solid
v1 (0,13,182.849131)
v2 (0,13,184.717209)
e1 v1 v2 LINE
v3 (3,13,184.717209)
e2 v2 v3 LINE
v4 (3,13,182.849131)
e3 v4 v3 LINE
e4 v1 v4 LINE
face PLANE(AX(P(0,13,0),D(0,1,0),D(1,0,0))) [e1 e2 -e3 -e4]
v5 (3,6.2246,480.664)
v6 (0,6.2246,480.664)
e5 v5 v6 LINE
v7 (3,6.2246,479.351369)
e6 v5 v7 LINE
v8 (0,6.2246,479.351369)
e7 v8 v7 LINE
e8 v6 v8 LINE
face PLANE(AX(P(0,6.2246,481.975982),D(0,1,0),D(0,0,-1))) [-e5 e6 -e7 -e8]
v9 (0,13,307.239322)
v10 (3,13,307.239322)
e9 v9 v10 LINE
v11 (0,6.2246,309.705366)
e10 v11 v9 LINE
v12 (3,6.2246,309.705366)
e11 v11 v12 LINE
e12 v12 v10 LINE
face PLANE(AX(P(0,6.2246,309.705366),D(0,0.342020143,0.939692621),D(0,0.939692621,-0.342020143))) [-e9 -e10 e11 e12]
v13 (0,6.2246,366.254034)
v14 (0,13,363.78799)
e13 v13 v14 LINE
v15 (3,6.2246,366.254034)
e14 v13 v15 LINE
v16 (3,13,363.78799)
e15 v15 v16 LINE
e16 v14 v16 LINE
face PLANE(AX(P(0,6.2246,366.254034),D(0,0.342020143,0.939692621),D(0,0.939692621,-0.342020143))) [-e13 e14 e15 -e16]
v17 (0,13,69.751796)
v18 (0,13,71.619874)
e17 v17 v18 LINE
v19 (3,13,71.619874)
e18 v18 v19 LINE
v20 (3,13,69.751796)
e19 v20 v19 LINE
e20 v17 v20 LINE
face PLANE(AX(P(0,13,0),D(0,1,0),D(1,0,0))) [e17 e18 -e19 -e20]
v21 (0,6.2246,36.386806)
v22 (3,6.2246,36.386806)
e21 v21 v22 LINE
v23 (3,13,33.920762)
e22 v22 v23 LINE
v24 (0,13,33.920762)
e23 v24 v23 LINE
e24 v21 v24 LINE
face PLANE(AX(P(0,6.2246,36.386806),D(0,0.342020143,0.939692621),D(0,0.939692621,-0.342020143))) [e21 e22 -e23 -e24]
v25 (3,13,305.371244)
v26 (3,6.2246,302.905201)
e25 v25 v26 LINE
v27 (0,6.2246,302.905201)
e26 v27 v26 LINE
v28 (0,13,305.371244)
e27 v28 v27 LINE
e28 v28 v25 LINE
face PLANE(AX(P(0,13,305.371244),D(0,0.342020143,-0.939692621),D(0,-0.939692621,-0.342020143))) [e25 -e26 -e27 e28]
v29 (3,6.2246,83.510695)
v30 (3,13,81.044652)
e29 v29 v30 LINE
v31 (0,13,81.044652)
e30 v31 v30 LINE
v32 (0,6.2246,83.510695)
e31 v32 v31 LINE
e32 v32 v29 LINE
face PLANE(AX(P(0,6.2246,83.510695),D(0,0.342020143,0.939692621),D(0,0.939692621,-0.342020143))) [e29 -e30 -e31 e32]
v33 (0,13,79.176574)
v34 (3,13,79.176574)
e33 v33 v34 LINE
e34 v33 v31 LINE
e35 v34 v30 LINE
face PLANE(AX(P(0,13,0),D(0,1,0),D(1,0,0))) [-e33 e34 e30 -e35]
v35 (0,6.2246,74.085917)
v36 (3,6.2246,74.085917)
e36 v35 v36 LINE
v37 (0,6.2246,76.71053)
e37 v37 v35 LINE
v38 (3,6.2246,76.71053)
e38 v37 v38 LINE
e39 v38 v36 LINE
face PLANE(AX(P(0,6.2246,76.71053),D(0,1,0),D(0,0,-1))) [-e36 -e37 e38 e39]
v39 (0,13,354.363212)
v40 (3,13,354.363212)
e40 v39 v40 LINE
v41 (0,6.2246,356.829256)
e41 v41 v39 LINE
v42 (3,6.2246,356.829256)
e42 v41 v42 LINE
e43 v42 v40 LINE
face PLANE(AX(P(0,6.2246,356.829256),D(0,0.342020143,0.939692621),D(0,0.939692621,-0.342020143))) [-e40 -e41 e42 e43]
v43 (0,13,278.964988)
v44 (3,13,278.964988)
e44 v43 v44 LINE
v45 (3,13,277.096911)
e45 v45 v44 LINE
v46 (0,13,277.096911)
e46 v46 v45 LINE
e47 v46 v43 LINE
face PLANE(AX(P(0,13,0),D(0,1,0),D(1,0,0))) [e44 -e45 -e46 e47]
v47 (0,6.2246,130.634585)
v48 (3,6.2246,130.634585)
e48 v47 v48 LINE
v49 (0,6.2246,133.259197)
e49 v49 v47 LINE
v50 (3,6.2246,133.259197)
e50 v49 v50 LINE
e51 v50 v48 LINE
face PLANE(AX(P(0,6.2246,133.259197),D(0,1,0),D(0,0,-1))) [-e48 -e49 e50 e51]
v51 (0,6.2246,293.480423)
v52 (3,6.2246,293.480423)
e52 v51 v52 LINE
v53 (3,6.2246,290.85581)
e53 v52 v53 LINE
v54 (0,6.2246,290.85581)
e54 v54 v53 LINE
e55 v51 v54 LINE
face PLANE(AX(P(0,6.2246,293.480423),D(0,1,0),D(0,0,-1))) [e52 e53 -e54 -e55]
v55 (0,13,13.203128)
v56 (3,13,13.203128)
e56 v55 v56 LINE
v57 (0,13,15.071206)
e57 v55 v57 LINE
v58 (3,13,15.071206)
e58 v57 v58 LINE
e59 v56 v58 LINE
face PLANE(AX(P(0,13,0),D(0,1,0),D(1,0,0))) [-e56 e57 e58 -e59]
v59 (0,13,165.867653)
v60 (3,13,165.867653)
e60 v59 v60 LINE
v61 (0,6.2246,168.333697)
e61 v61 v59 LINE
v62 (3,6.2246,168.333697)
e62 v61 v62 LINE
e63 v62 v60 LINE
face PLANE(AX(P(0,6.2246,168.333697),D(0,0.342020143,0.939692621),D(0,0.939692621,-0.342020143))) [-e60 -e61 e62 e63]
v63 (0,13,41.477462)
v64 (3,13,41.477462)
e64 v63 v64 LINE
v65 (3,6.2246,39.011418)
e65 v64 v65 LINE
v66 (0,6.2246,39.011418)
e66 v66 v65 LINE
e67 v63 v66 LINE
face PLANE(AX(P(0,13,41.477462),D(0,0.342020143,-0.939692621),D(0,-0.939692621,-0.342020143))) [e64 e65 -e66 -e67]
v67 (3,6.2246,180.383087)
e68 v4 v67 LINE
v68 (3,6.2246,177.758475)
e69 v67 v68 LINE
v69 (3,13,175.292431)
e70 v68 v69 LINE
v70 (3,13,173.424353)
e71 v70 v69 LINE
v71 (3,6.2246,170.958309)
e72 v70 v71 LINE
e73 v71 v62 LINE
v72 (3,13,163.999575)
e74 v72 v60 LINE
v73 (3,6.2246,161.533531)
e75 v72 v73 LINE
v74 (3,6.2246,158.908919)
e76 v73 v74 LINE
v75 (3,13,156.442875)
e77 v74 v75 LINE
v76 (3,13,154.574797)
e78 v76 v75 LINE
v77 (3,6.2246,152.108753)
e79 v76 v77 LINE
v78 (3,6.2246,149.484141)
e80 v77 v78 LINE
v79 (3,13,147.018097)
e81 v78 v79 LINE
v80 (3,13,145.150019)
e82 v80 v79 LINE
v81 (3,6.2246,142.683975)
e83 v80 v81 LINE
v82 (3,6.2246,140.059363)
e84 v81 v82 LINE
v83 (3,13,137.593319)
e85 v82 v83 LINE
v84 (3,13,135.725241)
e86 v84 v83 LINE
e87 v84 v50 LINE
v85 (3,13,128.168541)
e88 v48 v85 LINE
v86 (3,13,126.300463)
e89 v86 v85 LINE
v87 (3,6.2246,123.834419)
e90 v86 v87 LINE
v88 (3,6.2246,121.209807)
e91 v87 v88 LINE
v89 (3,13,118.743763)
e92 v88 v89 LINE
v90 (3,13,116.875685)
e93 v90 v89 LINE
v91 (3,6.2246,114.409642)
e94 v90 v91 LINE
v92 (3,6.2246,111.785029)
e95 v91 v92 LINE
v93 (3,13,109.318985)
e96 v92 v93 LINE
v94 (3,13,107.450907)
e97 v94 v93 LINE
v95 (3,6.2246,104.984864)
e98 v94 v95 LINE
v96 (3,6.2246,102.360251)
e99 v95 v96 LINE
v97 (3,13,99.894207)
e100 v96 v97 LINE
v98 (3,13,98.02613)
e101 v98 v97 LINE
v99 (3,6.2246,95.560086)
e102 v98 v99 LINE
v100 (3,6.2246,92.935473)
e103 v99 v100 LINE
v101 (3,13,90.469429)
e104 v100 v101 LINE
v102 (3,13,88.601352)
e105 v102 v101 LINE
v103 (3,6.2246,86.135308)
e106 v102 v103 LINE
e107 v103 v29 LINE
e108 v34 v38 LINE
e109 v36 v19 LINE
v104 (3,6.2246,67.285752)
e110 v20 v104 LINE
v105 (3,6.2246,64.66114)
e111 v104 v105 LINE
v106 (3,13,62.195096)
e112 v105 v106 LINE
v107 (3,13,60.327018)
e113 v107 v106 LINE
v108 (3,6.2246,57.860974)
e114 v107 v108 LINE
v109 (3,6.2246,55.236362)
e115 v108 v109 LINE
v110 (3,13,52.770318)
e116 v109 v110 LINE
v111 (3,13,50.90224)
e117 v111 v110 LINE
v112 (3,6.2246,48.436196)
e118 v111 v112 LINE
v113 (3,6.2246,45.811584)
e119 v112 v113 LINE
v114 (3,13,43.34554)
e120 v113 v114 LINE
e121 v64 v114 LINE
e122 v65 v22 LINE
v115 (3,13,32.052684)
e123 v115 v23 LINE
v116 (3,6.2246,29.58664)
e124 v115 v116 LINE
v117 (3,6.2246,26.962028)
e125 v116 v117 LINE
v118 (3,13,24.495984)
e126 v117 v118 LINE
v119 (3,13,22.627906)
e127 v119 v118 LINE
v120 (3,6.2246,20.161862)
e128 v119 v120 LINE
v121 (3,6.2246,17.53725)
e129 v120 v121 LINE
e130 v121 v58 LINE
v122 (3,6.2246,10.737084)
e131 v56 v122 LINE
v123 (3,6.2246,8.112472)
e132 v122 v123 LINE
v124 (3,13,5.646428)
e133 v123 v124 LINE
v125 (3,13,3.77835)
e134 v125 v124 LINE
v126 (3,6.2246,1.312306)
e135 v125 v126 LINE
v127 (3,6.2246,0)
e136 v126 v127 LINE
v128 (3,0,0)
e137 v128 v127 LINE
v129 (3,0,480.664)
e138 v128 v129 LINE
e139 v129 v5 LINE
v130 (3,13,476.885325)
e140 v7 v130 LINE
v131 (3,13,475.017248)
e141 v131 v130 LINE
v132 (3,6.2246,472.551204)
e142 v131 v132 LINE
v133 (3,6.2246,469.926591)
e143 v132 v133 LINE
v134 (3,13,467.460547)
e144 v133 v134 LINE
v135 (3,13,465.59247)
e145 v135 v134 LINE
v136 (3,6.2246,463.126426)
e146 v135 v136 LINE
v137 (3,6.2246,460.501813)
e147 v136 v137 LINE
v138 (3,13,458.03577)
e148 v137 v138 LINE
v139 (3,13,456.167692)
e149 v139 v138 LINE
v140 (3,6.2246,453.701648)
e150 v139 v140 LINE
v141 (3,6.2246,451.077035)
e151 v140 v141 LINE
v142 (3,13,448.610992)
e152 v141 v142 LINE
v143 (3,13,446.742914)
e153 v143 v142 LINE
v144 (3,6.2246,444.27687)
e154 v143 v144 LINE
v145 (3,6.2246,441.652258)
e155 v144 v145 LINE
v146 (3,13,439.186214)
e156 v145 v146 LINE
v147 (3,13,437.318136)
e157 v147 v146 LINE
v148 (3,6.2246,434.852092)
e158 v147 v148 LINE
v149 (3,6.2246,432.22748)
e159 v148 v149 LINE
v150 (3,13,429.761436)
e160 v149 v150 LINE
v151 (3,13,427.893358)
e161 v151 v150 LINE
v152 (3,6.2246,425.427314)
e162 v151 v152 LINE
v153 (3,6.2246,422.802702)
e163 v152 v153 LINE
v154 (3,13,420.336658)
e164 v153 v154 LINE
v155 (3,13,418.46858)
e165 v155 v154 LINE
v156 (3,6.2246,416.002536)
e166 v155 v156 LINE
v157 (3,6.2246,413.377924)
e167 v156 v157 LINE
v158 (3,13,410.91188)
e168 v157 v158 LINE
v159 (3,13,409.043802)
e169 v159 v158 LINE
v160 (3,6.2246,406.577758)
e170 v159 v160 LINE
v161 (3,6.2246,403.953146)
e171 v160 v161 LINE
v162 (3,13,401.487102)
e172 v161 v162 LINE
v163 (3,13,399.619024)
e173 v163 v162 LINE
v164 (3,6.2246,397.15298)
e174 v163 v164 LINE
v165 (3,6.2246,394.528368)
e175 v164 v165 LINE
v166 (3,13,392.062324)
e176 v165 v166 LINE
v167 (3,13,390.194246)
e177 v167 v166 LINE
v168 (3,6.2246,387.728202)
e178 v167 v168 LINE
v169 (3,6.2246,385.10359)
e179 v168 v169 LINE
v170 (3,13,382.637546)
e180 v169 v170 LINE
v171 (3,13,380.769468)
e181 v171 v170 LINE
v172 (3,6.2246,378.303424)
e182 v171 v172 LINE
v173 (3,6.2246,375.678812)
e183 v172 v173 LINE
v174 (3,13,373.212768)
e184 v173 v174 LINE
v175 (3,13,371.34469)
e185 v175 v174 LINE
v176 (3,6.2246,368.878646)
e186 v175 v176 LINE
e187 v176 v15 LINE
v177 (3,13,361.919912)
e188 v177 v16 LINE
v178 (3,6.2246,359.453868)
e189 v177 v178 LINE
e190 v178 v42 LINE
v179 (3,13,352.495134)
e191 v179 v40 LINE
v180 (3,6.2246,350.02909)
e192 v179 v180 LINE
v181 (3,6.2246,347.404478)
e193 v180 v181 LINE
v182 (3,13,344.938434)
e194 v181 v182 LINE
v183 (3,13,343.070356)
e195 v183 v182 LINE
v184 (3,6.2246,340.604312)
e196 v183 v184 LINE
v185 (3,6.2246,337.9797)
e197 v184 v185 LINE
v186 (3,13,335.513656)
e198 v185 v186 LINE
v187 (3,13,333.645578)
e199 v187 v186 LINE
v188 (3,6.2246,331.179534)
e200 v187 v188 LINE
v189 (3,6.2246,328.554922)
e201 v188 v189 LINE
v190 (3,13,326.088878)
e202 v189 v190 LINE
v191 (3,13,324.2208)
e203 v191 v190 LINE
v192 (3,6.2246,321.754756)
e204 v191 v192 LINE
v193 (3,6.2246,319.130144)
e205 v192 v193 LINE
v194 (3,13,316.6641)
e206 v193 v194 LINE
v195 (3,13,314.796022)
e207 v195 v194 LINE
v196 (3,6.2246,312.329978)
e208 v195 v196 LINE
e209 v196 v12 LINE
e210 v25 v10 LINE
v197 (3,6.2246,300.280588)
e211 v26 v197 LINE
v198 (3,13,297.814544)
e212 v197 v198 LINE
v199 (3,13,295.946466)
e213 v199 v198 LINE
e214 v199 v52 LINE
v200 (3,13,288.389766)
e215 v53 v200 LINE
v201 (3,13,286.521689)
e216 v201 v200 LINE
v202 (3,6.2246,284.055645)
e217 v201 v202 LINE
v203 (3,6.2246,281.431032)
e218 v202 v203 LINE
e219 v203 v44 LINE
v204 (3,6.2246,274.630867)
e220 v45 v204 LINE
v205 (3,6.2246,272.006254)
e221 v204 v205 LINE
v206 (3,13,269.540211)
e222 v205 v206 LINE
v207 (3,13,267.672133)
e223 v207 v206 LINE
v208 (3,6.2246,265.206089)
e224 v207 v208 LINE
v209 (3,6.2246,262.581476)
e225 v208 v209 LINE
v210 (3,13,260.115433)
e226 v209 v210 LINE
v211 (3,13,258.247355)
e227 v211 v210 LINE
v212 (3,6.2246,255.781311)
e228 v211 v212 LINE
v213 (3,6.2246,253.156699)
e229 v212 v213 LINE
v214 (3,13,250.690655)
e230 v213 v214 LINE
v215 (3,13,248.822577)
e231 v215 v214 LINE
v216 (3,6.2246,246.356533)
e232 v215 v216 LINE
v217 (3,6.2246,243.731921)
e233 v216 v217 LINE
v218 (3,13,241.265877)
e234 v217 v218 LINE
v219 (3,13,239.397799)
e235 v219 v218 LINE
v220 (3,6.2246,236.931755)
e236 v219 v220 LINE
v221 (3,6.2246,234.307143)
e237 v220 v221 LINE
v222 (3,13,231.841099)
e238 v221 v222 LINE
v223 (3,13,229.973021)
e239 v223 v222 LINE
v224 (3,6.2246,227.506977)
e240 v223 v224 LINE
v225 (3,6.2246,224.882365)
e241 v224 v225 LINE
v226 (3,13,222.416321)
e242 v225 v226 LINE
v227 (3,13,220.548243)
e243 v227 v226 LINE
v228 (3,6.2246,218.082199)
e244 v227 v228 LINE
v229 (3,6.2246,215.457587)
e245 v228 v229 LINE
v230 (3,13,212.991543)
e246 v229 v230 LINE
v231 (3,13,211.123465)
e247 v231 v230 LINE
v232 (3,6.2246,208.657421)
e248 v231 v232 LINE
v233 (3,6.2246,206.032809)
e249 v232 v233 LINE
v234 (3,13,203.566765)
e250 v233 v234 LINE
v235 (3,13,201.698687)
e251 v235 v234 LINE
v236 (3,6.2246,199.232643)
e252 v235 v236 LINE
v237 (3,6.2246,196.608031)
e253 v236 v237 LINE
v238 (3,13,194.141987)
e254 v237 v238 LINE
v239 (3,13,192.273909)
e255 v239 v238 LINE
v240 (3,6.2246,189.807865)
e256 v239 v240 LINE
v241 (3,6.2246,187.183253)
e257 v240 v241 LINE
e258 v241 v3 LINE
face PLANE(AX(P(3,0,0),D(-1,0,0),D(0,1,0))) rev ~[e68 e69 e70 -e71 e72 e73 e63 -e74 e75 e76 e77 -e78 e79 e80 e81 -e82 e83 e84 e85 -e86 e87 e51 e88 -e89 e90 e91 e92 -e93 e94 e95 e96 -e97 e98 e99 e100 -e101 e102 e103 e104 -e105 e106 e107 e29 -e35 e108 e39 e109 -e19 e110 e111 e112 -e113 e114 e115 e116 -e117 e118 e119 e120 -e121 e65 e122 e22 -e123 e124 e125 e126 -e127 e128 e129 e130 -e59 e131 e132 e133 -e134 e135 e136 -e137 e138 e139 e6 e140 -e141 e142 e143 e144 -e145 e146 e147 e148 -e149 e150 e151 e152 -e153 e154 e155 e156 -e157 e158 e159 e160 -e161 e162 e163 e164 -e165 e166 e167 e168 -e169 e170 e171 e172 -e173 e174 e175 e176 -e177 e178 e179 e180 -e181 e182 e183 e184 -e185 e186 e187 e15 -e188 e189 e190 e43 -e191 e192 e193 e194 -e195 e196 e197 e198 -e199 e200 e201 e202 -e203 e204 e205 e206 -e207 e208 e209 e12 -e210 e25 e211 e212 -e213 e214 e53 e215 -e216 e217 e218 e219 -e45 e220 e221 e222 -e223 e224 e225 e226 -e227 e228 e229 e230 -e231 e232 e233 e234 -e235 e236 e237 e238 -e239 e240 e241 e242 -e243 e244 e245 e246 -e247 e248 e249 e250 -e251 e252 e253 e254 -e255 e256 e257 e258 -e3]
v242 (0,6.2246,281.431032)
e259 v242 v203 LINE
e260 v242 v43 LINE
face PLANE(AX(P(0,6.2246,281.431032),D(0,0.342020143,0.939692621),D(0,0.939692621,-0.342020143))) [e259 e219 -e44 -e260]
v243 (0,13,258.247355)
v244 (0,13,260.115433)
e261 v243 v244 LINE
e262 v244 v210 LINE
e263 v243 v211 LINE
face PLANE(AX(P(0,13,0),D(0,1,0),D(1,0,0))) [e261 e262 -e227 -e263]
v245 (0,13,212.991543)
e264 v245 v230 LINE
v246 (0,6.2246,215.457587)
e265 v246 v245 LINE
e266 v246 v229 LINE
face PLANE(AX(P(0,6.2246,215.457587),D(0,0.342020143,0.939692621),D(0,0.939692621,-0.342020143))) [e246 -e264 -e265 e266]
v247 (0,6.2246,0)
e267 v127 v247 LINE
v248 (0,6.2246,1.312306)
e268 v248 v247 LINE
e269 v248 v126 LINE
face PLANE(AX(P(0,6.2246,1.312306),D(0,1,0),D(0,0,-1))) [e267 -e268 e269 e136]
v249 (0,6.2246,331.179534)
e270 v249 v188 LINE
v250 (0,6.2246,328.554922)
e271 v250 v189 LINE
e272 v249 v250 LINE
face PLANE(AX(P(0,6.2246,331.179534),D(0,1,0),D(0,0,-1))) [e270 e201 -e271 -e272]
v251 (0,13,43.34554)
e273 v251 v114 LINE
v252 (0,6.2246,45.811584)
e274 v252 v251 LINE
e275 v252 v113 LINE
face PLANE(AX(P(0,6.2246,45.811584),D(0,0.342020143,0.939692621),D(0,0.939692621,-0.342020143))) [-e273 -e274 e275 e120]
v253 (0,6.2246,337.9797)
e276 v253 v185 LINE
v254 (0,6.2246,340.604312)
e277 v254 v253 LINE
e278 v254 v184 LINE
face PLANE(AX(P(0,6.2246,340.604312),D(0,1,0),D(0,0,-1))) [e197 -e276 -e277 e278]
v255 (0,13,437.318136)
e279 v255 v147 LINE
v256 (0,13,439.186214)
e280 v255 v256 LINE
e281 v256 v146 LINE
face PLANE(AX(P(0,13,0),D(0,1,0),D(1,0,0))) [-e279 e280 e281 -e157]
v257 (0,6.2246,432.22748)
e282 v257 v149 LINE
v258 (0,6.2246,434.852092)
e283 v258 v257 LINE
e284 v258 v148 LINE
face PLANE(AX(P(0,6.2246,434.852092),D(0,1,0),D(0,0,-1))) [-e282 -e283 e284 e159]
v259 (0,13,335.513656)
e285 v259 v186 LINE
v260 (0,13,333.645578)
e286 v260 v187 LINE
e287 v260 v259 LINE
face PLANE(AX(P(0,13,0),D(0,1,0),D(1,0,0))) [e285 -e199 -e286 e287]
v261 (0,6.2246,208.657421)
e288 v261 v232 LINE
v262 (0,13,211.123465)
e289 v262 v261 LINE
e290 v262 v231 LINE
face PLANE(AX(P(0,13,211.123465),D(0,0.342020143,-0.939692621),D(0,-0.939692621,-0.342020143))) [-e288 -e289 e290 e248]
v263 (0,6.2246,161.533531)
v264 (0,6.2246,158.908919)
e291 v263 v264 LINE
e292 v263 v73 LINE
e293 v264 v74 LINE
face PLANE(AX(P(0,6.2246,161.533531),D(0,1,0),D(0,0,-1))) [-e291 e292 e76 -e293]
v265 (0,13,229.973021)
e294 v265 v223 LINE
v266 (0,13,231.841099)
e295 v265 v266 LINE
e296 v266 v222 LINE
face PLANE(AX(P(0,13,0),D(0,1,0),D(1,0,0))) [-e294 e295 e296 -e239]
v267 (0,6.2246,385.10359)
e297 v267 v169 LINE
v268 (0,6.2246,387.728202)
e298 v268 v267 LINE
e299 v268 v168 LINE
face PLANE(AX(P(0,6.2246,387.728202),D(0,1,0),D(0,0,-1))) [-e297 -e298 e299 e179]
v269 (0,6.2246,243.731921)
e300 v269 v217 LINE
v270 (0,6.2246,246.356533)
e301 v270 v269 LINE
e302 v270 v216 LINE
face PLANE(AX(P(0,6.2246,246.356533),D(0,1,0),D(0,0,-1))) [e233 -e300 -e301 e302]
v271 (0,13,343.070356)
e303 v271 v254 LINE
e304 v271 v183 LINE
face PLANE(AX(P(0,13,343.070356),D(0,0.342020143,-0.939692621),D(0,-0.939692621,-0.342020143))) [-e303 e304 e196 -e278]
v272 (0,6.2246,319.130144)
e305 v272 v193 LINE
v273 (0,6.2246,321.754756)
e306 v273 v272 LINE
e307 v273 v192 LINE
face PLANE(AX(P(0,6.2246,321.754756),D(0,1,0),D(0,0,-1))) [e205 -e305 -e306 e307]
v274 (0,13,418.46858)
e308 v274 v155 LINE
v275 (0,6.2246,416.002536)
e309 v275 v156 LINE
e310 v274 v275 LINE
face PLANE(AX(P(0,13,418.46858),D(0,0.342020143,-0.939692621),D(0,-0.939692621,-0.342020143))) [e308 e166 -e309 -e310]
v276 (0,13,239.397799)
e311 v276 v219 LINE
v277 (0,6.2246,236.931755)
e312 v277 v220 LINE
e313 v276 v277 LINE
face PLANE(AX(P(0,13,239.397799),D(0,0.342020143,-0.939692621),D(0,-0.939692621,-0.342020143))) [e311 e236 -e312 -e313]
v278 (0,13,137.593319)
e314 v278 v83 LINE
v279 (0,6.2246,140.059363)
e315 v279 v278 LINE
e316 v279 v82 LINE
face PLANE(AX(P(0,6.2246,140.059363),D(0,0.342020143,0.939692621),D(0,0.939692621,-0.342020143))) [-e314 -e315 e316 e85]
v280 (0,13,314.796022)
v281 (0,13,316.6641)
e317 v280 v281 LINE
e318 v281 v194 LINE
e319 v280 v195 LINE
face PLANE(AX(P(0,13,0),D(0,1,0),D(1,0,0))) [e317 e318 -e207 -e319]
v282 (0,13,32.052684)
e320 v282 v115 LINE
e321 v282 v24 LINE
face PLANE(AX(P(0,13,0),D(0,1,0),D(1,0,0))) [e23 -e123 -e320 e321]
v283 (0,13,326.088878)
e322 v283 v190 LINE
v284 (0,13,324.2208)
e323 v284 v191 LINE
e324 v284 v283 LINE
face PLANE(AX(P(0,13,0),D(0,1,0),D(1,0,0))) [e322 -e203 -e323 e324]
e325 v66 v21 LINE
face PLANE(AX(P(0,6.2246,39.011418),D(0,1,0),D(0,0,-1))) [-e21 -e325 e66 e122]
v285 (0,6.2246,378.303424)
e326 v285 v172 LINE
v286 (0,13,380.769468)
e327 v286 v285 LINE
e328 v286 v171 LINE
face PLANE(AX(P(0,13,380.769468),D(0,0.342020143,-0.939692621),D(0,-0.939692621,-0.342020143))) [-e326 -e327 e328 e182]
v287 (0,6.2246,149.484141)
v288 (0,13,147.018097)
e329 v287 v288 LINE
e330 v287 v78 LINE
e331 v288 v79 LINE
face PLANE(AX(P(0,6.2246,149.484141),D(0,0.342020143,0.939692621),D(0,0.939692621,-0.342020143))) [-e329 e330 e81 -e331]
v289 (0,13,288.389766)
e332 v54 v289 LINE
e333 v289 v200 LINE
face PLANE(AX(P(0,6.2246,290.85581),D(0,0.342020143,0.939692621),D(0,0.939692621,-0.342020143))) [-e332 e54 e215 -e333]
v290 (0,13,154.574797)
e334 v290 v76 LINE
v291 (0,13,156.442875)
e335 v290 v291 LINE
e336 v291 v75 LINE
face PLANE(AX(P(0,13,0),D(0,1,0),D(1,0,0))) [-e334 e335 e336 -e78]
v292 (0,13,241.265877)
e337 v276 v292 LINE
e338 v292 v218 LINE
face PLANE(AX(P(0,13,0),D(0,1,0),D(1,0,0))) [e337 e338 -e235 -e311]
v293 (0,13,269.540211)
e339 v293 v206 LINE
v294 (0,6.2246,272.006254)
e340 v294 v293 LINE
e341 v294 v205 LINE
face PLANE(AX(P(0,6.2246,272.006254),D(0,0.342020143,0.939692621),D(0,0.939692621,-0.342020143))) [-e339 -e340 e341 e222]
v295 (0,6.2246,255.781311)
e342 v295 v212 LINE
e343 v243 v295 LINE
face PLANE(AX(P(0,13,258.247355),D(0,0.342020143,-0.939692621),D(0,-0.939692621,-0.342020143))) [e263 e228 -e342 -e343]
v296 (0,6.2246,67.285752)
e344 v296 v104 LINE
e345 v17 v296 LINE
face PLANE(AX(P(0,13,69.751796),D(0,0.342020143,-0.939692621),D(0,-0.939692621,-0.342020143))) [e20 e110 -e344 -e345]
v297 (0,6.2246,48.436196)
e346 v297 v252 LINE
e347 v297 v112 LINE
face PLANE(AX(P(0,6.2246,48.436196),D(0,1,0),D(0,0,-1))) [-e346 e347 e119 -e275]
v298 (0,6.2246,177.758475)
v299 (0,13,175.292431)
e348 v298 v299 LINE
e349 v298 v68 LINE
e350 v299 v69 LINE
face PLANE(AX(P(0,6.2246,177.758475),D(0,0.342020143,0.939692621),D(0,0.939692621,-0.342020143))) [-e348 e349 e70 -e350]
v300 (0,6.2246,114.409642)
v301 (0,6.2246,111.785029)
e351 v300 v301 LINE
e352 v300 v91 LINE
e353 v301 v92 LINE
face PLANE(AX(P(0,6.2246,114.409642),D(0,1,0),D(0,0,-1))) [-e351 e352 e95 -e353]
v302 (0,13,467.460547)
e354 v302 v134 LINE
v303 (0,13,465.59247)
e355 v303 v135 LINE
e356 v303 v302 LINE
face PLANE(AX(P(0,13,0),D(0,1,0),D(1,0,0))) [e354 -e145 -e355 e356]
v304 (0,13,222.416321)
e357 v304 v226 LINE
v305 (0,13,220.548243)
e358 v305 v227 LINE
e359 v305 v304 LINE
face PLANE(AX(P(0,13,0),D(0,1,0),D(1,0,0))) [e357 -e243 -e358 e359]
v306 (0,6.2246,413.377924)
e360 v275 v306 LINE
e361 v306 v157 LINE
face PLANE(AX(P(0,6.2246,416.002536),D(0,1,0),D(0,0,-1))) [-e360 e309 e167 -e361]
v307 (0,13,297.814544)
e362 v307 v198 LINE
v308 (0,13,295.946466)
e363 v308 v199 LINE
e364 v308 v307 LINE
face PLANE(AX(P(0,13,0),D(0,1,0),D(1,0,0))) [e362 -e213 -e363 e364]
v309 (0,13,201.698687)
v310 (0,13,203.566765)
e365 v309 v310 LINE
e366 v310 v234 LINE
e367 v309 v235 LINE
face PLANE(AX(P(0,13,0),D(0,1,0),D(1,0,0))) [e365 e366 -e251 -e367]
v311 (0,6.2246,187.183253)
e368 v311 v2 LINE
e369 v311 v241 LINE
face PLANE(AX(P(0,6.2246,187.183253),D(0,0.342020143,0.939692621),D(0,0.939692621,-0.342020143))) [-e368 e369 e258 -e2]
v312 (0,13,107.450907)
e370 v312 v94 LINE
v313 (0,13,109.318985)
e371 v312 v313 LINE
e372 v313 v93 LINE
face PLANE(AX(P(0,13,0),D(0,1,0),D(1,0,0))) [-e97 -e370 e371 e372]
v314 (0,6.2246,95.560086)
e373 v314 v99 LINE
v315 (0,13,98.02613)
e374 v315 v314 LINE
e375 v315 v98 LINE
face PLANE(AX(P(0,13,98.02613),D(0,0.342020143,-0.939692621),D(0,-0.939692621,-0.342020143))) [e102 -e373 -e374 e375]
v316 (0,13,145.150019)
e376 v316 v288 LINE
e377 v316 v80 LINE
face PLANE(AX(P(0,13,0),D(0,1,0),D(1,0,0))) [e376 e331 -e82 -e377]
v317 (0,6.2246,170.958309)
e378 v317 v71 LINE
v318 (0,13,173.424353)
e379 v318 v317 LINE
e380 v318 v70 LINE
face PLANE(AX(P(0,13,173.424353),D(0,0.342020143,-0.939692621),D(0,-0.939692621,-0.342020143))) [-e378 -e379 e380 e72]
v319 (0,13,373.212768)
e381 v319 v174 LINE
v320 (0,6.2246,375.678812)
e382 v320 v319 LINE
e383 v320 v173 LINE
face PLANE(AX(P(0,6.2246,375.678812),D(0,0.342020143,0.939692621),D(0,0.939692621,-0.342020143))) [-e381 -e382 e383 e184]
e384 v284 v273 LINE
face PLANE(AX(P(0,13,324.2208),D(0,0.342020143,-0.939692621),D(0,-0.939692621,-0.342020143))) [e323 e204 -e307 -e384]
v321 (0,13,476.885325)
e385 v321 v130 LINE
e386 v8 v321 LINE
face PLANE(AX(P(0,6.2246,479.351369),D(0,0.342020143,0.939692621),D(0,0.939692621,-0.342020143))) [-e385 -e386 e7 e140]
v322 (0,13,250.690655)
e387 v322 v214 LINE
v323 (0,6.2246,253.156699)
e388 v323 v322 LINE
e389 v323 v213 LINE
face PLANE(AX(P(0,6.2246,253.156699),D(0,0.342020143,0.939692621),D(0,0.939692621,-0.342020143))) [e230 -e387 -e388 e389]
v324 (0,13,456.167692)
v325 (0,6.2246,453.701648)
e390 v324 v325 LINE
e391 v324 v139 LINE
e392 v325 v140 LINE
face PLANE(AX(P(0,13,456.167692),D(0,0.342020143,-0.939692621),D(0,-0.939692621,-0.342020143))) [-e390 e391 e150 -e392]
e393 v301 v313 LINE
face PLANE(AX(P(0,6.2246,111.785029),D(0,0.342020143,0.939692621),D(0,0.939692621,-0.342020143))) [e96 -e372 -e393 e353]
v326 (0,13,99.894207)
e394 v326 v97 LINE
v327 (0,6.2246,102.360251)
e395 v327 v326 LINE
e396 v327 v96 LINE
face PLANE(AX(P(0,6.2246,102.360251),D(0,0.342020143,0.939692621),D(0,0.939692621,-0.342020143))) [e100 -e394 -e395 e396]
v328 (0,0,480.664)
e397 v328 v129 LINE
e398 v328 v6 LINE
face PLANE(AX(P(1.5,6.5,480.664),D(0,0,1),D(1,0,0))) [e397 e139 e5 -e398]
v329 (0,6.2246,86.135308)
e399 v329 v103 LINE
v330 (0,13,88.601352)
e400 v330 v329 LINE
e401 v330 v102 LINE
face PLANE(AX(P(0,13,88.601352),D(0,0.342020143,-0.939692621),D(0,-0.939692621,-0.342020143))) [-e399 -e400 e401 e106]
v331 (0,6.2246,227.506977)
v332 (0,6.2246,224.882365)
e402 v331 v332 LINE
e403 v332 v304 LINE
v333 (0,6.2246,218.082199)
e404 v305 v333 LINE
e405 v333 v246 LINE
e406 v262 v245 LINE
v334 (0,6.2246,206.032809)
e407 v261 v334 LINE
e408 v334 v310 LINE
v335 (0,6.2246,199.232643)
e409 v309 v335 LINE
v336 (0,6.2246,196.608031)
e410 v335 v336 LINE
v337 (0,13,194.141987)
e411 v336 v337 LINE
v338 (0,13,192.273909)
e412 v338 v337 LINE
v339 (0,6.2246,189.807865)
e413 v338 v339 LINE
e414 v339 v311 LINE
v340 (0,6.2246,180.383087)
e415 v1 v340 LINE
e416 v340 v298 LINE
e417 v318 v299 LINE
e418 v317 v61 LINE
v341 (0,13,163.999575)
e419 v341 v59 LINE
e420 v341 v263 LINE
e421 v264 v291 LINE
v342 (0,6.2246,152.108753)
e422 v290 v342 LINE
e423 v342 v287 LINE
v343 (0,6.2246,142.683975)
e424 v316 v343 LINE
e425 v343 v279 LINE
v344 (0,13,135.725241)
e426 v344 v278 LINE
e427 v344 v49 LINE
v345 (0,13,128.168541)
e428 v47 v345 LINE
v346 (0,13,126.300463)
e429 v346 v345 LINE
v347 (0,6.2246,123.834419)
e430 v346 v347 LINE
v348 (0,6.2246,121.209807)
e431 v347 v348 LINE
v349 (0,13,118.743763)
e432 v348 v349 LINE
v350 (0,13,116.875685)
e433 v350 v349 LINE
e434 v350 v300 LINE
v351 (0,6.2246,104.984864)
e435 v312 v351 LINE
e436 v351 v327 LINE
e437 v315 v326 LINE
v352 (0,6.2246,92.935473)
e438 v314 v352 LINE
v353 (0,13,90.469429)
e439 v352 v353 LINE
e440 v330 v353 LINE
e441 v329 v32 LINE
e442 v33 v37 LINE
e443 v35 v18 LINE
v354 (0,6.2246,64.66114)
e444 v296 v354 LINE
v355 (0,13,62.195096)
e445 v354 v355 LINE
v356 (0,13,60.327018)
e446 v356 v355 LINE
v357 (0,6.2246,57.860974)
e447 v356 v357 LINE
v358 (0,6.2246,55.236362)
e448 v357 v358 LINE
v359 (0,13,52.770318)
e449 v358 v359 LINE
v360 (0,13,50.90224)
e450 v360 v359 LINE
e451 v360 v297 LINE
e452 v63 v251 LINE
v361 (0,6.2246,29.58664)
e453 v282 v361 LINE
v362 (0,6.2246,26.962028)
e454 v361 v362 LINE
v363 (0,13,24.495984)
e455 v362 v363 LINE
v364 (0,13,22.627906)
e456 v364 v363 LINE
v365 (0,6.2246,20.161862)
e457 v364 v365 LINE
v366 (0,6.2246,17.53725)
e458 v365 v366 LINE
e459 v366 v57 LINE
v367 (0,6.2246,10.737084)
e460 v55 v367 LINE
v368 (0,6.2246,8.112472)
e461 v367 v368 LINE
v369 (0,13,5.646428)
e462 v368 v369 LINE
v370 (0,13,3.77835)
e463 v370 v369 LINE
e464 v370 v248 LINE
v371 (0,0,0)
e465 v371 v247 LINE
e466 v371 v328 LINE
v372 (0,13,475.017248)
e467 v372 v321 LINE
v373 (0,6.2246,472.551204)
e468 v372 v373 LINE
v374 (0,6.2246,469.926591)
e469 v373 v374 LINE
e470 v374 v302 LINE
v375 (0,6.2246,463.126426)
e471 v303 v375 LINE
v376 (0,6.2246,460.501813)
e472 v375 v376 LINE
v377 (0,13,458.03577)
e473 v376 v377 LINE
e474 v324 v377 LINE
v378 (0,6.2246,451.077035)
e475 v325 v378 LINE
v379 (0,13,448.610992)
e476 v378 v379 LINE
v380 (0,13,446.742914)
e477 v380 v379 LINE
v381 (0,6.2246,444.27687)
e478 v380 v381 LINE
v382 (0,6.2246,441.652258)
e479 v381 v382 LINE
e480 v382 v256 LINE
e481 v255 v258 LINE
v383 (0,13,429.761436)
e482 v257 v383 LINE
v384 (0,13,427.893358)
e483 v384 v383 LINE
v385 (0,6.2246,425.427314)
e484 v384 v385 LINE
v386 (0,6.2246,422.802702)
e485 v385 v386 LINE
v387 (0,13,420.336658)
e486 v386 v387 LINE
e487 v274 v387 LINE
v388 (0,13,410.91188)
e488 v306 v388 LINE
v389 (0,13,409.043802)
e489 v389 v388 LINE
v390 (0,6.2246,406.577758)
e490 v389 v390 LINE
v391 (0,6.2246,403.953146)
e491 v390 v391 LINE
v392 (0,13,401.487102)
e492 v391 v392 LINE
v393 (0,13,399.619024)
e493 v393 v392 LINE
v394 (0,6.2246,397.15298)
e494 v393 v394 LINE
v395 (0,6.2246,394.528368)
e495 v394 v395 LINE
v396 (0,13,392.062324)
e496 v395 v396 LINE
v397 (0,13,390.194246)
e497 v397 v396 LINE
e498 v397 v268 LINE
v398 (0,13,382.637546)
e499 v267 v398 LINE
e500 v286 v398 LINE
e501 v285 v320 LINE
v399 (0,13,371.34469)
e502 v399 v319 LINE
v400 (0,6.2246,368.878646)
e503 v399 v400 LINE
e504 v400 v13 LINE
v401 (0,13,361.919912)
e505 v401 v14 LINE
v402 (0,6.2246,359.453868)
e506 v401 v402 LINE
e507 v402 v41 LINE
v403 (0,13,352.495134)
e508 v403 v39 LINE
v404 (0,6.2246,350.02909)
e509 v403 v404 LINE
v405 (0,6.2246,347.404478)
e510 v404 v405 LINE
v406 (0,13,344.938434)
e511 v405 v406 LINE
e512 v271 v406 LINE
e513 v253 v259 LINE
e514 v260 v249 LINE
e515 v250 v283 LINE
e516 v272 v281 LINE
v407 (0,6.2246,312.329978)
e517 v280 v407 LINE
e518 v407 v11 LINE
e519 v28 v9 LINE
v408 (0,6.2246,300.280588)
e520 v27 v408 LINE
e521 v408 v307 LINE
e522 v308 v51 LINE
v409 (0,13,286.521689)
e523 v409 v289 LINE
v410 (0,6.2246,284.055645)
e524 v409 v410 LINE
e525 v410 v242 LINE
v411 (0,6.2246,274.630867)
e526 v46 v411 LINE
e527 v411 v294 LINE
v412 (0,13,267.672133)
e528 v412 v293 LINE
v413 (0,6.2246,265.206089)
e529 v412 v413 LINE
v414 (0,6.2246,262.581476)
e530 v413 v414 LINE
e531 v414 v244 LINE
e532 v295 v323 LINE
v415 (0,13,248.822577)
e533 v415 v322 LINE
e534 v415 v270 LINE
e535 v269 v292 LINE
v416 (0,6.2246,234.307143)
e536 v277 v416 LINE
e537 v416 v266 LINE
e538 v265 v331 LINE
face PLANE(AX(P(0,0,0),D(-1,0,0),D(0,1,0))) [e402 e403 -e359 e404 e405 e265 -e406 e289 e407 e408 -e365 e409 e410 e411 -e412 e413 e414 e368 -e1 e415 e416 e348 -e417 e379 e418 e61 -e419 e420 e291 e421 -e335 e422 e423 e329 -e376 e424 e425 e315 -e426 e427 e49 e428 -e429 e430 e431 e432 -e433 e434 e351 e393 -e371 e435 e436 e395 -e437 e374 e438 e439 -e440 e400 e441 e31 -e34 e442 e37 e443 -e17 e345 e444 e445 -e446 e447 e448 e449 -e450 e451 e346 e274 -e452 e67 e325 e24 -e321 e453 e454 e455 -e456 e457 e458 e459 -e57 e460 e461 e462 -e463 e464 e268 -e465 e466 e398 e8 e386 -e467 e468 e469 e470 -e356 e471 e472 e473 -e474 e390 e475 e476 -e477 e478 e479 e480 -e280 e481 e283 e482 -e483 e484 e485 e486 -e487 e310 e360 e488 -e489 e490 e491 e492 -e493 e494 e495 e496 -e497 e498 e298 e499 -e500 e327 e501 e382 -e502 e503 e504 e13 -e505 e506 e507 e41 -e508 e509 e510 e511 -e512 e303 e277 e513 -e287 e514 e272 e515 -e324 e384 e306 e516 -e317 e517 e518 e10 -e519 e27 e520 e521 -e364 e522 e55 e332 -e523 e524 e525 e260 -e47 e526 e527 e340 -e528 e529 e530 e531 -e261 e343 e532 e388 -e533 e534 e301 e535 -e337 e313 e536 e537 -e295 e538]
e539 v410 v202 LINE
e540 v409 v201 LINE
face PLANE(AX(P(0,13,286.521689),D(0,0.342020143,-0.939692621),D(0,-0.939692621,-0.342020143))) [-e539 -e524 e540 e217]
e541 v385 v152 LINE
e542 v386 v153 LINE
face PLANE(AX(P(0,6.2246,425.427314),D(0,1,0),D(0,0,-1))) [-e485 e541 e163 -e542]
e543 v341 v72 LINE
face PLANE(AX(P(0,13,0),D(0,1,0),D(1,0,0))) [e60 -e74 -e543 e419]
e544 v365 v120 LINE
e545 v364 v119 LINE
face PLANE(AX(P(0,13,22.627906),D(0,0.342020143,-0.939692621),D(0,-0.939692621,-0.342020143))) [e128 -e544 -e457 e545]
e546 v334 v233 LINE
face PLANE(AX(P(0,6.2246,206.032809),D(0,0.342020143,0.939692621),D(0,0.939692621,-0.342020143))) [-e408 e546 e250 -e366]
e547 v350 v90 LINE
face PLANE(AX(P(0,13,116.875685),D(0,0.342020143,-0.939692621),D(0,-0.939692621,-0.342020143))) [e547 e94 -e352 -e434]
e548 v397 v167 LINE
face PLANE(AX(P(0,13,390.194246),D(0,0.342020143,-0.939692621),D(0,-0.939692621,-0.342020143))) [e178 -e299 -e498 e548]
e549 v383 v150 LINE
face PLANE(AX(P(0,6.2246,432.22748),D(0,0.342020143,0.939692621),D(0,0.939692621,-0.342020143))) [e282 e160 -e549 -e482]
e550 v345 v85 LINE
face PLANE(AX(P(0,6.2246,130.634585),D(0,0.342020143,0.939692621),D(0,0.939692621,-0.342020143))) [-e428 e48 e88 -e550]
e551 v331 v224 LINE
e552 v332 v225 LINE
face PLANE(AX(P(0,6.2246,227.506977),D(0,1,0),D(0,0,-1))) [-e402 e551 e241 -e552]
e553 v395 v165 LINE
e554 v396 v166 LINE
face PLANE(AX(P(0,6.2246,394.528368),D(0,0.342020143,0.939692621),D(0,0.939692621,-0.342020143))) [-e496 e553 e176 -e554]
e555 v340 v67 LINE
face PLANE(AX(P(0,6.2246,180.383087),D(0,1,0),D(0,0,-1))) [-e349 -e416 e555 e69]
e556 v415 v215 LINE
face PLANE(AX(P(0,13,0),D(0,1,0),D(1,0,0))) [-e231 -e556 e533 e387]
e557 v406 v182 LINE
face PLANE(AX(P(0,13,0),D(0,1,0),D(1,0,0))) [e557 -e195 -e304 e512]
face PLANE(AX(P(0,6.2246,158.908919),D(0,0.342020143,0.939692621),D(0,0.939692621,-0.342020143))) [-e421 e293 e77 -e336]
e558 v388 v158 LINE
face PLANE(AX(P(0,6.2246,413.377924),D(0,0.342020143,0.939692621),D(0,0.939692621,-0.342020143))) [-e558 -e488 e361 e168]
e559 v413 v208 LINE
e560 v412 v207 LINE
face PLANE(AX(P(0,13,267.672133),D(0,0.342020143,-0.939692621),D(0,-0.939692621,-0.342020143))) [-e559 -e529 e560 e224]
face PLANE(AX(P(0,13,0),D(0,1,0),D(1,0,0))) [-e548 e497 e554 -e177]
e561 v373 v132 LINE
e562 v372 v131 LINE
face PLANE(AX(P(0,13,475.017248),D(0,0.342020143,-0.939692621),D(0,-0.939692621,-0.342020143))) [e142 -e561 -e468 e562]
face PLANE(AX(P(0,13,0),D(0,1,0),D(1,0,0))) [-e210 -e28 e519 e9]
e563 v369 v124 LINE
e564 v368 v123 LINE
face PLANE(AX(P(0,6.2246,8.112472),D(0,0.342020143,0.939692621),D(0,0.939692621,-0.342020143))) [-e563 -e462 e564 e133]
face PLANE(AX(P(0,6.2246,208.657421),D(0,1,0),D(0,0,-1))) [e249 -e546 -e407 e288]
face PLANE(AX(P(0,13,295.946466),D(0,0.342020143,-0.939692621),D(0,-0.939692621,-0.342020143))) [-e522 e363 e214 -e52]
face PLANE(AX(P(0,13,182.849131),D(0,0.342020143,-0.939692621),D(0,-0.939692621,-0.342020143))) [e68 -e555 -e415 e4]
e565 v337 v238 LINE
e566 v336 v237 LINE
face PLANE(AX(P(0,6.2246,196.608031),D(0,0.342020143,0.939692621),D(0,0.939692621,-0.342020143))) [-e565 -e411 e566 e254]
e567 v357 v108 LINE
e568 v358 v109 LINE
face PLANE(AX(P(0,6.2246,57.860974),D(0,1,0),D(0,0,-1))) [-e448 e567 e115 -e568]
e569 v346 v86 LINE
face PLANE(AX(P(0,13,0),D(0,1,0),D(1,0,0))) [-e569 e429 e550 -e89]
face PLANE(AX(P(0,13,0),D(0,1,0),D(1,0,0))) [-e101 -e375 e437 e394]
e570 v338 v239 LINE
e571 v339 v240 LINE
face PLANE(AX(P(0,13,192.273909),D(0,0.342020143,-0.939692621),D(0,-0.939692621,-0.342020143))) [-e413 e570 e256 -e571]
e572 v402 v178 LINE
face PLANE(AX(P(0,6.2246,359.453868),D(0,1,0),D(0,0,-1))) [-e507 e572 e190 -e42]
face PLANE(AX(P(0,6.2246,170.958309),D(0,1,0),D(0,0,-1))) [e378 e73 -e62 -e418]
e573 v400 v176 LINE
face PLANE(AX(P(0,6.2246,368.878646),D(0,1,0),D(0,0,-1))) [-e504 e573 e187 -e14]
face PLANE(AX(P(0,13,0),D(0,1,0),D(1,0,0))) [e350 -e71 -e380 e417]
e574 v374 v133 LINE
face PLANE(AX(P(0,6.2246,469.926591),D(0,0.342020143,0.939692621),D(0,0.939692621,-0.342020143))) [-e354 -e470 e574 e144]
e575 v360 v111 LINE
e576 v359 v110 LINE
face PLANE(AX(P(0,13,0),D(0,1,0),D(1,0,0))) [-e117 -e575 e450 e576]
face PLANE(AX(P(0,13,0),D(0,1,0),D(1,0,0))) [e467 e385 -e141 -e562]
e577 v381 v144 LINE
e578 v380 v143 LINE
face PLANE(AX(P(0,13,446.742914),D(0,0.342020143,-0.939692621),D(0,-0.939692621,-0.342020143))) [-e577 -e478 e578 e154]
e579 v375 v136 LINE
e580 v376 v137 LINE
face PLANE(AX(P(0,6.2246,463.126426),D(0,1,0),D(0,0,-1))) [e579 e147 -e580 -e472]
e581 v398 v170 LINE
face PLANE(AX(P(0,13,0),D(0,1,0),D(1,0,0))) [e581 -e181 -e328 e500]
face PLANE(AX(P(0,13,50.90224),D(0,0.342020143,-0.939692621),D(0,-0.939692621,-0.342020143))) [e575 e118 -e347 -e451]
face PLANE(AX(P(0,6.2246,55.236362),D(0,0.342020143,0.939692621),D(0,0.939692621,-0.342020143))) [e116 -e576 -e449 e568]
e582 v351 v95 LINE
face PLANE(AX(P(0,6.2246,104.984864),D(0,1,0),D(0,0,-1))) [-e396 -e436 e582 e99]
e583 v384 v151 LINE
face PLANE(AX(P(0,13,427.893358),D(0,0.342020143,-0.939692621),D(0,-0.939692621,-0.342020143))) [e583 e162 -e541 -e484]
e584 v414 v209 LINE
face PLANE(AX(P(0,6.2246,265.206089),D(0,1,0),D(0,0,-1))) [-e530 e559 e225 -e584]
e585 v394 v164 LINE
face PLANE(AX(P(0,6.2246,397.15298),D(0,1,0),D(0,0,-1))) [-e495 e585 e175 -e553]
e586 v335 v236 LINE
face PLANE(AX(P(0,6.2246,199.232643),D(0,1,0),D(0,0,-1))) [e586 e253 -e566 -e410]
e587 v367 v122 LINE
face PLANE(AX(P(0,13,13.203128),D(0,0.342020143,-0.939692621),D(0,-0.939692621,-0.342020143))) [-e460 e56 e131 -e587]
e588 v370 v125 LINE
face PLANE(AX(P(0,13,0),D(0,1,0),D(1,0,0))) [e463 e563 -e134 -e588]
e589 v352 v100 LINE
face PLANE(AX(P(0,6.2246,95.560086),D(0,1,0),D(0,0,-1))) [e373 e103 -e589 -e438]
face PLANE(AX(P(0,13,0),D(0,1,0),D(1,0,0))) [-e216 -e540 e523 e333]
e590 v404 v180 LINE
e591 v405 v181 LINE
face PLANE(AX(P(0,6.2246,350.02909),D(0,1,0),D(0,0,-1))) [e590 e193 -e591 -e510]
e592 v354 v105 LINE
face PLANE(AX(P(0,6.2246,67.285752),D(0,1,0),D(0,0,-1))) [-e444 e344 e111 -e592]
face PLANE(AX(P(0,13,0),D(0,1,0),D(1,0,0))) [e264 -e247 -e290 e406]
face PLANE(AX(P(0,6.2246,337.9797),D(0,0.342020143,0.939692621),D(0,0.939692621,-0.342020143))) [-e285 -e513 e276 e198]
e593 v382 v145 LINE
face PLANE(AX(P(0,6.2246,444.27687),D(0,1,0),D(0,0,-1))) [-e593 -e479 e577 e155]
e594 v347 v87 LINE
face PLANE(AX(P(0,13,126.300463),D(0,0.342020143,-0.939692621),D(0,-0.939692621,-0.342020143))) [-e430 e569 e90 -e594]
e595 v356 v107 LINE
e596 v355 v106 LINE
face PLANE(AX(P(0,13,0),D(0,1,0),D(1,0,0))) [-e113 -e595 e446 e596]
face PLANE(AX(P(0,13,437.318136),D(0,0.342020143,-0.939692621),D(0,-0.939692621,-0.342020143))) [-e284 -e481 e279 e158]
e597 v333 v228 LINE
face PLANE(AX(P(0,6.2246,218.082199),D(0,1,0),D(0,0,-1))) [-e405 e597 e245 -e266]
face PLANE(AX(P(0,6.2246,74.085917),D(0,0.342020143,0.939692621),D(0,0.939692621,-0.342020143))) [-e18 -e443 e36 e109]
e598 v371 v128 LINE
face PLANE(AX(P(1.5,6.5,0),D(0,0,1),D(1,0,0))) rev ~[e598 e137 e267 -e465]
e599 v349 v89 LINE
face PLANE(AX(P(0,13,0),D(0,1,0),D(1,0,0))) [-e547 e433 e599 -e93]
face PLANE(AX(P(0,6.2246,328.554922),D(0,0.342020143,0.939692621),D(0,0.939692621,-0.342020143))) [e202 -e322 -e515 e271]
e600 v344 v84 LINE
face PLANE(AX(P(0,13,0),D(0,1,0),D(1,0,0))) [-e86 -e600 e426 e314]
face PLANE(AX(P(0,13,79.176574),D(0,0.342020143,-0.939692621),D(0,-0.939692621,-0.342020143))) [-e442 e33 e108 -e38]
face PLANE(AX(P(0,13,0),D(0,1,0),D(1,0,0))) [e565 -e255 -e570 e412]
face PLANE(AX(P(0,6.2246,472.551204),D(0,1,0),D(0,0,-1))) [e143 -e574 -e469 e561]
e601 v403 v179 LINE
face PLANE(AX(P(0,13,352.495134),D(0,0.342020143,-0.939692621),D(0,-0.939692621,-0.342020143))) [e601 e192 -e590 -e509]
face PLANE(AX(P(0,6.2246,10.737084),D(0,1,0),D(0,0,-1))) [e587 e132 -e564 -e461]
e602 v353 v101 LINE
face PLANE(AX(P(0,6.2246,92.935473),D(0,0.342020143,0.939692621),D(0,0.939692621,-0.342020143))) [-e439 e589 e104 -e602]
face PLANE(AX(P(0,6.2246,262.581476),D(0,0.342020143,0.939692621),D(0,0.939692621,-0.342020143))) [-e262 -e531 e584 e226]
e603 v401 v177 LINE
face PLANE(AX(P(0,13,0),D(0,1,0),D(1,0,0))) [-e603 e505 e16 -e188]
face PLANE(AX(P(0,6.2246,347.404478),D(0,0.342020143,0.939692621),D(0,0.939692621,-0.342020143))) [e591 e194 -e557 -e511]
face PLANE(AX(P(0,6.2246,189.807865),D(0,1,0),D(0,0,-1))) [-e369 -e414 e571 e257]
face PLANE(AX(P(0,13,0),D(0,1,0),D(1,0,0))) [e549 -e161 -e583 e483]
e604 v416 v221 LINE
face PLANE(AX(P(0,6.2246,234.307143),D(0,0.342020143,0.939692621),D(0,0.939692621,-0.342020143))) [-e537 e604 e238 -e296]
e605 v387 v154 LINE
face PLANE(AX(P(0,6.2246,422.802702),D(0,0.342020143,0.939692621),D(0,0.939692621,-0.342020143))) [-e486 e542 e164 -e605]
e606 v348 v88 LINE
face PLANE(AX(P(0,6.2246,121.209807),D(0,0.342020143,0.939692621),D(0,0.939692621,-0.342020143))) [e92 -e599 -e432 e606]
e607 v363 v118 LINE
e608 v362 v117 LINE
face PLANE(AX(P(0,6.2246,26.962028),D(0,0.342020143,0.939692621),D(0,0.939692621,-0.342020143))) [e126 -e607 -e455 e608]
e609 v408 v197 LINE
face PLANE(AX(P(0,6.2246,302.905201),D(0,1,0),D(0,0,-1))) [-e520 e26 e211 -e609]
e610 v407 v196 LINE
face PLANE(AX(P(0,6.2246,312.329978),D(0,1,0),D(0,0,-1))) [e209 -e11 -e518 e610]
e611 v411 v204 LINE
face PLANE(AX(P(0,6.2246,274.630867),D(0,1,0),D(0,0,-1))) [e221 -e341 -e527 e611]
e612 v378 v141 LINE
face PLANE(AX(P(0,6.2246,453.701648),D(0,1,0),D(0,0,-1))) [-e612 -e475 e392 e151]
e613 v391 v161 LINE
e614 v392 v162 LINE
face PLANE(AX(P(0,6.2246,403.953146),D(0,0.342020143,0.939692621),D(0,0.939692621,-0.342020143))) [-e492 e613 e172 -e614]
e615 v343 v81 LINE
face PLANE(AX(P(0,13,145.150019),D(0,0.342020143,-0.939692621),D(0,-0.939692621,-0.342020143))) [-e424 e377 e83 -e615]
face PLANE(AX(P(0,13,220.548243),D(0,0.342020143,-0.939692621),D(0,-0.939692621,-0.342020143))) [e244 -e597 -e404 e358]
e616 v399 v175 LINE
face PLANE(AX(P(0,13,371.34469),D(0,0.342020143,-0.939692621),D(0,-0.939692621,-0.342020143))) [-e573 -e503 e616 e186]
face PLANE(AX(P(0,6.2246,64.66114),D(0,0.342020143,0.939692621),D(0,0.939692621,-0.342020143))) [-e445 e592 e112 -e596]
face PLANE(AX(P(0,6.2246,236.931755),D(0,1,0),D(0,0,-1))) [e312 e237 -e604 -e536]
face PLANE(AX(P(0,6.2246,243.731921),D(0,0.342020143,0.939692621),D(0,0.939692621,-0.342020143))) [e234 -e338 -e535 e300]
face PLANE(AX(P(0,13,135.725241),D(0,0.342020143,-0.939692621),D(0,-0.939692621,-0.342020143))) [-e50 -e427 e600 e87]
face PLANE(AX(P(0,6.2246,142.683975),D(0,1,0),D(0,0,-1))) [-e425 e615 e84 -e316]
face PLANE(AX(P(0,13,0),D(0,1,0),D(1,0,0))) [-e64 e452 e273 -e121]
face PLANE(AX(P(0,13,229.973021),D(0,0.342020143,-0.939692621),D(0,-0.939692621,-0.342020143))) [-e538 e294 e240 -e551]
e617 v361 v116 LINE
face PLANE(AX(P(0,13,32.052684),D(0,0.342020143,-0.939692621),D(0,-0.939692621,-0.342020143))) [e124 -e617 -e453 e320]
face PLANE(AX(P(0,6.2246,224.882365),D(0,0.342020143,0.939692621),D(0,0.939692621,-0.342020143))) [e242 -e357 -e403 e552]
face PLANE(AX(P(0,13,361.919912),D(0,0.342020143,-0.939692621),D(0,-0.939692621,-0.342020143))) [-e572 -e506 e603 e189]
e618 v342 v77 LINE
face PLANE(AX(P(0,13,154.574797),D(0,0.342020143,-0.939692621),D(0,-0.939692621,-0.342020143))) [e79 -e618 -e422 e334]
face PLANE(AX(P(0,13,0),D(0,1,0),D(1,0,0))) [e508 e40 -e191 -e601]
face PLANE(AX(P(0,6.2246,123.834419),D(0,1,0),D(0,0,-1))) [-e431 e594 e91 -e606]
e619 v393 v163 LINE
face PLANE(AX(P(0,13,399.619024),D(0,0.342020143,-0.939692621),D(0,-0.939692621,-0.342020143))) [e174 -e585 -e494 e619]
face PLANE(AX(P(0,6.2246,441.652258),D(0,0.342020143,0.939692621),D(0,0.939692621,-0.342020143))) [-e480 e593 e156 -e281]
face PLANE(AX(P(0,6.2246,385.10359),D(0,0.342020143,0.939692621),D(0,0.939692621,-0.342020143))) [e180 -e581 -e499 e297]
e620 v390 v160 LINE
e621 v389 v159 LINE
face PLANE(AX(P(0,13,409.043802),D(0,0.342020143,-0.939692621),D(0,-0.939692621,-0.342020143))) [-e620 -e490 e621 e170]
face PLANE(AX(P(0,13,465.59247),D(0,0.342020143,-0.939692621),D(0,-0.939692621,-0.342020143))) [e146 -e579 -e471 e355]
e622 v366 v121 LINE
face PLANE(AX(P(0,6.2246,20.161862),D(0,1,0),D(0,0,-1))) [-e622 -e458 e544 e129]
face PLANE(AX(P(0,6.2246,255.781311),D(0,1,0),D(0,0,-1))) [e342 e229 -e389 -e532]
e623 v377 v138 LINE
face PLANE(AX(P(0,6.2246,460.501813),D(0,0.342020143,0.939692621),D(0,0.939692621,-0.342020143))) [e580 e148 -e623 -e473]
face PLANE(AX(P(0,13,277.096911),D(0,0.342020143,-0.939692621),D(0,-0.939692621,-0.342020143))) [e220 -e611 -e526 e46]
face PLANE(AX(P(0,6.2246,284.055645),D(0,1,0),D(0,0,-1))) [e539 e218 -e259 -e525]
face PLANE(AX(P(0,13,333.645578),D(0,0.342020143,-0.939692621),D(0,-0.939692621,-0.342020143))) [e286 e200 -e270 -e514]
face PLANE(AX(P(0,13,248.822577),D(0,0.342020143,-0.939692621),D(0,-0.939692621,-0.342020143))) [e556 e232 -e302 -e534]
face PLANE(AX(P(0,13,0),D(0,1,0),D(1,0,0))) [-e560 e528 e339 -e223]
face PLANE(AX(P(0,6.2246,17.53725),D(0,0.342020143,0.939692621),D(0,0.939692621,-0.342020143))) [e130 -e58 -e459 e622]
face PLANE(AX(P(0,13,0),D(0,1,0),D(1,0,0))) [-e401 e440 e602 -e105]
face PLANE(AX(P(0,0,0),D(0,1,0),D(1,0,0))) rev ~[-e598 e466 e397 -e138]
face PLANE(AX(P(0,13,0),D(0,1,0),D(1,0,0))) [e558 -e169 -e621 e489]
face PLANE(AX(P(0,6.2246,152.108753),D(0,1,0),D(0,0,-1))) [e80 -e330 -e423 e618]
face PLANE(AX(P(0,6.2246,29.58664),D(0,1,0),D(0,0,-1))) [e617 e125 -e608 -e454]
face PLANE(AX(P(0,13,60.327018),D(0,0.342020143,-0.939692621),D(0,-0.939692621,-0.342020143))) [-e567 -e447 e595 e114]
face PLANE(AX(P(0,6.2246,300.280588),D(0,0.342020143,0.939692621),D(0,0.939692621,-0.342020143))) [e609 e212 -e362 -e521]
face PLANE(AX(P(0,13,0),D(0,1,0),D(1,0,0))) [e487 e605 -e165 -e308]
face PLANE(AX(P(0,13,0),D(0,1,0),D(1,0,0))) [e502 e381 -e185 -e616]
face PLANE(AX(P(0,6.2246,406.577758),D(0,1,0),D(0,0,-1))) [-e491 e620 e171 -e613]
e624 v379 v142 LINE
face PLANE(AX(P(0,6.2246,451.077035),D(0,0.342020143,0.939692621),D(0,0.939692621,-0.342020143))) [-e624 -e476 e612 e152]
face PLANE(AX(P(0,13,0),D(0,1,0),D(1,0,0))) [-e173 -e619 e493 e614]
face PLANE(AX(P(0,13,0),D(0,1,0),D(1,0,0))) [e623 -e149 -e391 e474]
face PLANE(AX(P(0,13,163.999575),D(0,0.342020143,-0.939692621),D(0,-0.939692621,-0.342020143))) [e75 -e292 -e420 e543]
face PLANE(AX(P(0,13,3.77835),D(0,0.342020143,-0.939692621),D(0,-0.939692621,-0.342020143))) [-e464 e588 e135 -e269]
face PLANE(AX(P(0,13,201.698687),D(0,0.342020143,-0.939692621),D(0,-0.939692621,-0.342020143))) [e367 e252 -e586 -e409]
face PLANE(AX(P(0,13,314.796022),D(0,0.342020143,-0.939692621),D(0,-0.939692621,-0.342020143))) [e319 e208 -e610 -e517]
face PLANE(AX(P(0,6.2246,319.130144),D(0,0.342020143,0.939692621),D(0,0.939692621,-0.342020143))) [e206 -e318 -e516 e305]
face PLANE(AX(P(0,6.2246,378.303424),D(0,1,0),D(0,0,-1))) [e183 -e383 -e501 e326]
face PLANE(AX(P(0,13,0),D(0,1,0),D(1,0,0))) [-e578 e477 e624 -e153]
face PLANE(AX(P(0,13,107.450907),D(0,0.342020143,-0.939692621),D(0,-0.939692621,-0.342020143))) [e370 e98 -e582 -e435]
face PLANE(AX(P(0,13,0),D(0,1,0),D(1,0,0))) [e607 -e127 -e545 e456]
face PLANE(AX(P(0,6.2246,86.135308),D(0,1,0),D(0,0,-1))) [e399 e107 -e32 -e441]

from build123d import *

# Parameters (mm, degrees)
ESBO_O1_W                = 3
ESBO_O1_H                = 13
RESSALTO_EXTRUS_O1_DEPTH = 480.664
CORTE_EXTRUS_O1_DEPTH    = 481.849124878


with BuildPart() as part:
    # Esboço1 → Ressalto-extrusão1 (new body)
    with BuildSketch(Plane.XY):
        with Locations((1.5, 6.5)):
            Rectangle(ESBO_O1_W, ESBO_O1_H)
    extrude(amount=RESSALTO_EXTRUS_O1_DEPTH)

    # Esboço2 → Corte-extrusão1 (cut, through all)
    with BuildSketch(Plane.ZY):
        Polygon((1.312306109, 6.2246), (-1.312306109, 6.2246), (-3.778350034, 13), (3.778350034, 13), align=None)
        Polygon((10.737084059, 6.2246), (8.112471841, 6.2246), (5.646427916, 13), (13.203127984, 13), align=None)
        Polygon((20.161862009, 6.2246), (17.537249791, 6.2246), (15.071205866, 13), (22.627905934, 13), align=None)
        Polygon((29.586639959, 6.2246), (26.962027741, 6.2246), (24.495983816, 13), (32.052683884, 13), align=None)
        Polygon((39.011417909, 6.2246), (36.386805691, 6.2246), (33.920761766, 13), (41.477461834, 13), align=None)
        Polygon((48.436195859, 6.2246), (45.811583641, 6.2246), (43.345539716, 13), (50.902239784, 13), align=None)
        Polygon((57.860973809, 6.2246), (55.236361591, 6.2246), (52.770317666, 13), (60.327017734, 13), align=None)
        Polygon((67.285751759, 6.2246), (64.661139541, 6.2246), (62.195095616, 13), (69.751795684, 13), align=None)
        Polygon((76.710529709, 6.2246), (74.085917491, 6.2246), (71.619873566, 13), (79.176573634, 13), align=None)
        Polygon((86.135307659, 6.2246), (83.510695441, 6.2246), (81.044651516, 13), (88.601351584, 13), align=None)
        Polygon((95.560085609, 6.2246), (92.935473391, 6.2246), (90.469429466, 13), (98.026129534, 13), align=None)
        Polygon((104.984863559, 6.2246), (102.360251341, 6.2246), (99.894207416, 13), (107.450907484, 13), align=None)
        Polygon((114.409641509, 6.2246), (111.785029291, 6.2246), (109.318985366, 13), (116.875685434, 13), align=None)
        Polygon((123.834419459, 6.2246), (121.209807241, 6.2246), (118.743763316, 13), (126.300463384, 13), align=None)
        Polygon((133.259197409, 6.2246), (130.634585191, 6.2246), (128.168541266, 13), (135.725241334, 13), align=None)
        Polygon((142.683975359, 6.2246), (140.059363141, 6.2246), (137.593319216, 13), (145.150019284, 13), align=None)
        Polygon((152.108753309, 6.2246), (149.484141091, 6.2246), (147.018097166, 13), (154.574797234, 13), align=None)
        Polygon((161.533531259, 6.2246), (158.908919041, 6.2246), (156.442875116, 13), (163.999575184, 13), align=None)
        Polygon((170.958309209, 6.2246), (168.333696991, 6.2246), (165.867653066, 13), (173.424353134, 13), align=None)
        Polygon((180.383087159, 6.2246), (177.758474941, 6.2246), (175.292431016, 13), (182.849131084, 13), align=None)
        Polygon((189.807865109, 6.2246), (187.183252891, 6.2246), (184.717208966, 13), (192.273909034, 13), align=None)
        Polygon((199.232643059, 6.2246), (196.608030841, 6.2246), (194.141986916, 13), (201.698686984, 13), align=None)
        Polygon((208.657421009, 6.2246), (206.032808791, 6.2246), (203.566764866, 13), (211.123464934, 13), align=None)
        Polygon((218.082198959, 6.2246), (215.457586741, 6.2246), (212.991542816, 13), (220.548242884, 13), align=None)
        Polygon((227.506976909, 6.2246), (224.882364691, 6.2246), (222.416320766, 13), (229.973020834, 13), align=None)
        Polygon((236.931754859, 6.2246), (234.307142641, 6.2246), (231.841098716, 13), (239.397798784, 13), align=None)
        Polygon((246.356532809, 6.2246), (243.731920591, 6.2246), (241.265876666, 13), (248.822576734, 13), align=None)
        Polygon((255.781310759, 6.2246), (253.156698541, 6.2246), (250.690654616, 13), (258.247354684, 13), align=None)
        Polygon((265.206088709, 6.2246), (262.581476491, 6.2246), (260.115432566, 13), (267.672132634, 13), align=None)
        Polygon((274.630866659, 6.2246), (272.006254441, 6.2246), (269.540210516, 13), (277.096910584, 13), align=None)
        Polygon((284.055644609, 6.2246), (281.431032391, 6.2246), (278.964988466, 13), (286.521688534, 13), align=None)
        Polygon((293.480422559, 6.2246), (290.855810341, 6.2246), (288.389766416, 13), (295.946466484, 13), align=None)
        Polygon((302.905200509, 6.2246), (300.280588291, 6.2246), (297.814544366, 13), (305.371244434, 13), align=None)
        Polygon((312.329978459, 6.2246), (309.705366241, 6.2246), (307.239322316, 13), (314.796022384, 13), align=None)
        Polygon((321.754756409, 6.2246), (319.130144191, 6.2246), (316.664100266, 13), (324.220800334, 13), align=None)
        Polygon((331.179534359, 6.2246), (328.554922141, 6.2246), (326.088878216, 13), (333.645578284, 13), align=None)
        Polygon((340.604312309, 6.2246), (337.979700091, 6.2246), (335.513656166, 13), (343.070356234, 13), align=None)
        Polygon((350.029090259, 6.2246), (347.404478041, 6.2246), (344.938434116, 13), (352.495134184, 13), align=None)
        Polygon((359.453868209, 6.2246), (356.829255991, 6.2246), (354.363212066, 13), (361.919912134, 13), align=None)
        Polygon((368.878646159, 6.2246), (366.254033941, 6.2246), (363.787990016, 13), (371.344690084, 13), align=None)
        Polygon((378.303424109, 6.2246), (375.678811891, 6.2246), (373.212767966, 13), (380.769468034, 13), align=None)
        Polygon((387.728202059, 6.2246), (385.103589841, 6.2246), (382.637545916, 13), (390.194245984, 13), align=None)
        Polygon((397.152980009, 6.2246), (394.528367791, 6.2246), (392.062323866, 13), (399.619023934, 13), align=None)
        Polygon((406.577757959, 6.2246), (403.953145741, 6.2246), (401.487101816, 13), (409.043801884, 13), align=None)
        Polygon((416.002535909, 6.2246), (413.377923691, 6.2246), (410.911879766, 13), (418.468579834, 13), align=None)
        Polygon((425.427313859, 6.2246), (422.802701641, 6.2246), (420.336657716, 13), (427.893357784, 13), align=None)
        Polygon((434.852091809, 6.2246), (432.227479591, 6.2246), (429.761435666, 13), (437.318135734, 13), align=None)
        Polygon((444.276869759, 6.2246), (441.652257541, 6.2246), (439.186213616, 13), (446.742913684, 13), align=None)
        Polygon((453.701647709, 6.2246), (451.077035491, 6.2246), (448.610991566, 13), (456.167691634, 13), align=None)
        Polygon((463.126425659, 6.2246), (460.501813441, 6.2246), (458.035769516, 13), (465.592469584, 13), align=None)
        Polygon((472.551203609, 6.2246), (469.926591391, 6.2246), (467.460547466, 13), (475.017247534, 13), align=None)
        Polygon((481.975981559, 6.2246), (479.351369341, 6.2246), (476.885325416, 13), (484.442025484, 13), align=None)
    extrude(amount=-CORTE_EXTRUS_O1_DEPTH, mode=Mode.SUBTRACT)


solid = part.part
